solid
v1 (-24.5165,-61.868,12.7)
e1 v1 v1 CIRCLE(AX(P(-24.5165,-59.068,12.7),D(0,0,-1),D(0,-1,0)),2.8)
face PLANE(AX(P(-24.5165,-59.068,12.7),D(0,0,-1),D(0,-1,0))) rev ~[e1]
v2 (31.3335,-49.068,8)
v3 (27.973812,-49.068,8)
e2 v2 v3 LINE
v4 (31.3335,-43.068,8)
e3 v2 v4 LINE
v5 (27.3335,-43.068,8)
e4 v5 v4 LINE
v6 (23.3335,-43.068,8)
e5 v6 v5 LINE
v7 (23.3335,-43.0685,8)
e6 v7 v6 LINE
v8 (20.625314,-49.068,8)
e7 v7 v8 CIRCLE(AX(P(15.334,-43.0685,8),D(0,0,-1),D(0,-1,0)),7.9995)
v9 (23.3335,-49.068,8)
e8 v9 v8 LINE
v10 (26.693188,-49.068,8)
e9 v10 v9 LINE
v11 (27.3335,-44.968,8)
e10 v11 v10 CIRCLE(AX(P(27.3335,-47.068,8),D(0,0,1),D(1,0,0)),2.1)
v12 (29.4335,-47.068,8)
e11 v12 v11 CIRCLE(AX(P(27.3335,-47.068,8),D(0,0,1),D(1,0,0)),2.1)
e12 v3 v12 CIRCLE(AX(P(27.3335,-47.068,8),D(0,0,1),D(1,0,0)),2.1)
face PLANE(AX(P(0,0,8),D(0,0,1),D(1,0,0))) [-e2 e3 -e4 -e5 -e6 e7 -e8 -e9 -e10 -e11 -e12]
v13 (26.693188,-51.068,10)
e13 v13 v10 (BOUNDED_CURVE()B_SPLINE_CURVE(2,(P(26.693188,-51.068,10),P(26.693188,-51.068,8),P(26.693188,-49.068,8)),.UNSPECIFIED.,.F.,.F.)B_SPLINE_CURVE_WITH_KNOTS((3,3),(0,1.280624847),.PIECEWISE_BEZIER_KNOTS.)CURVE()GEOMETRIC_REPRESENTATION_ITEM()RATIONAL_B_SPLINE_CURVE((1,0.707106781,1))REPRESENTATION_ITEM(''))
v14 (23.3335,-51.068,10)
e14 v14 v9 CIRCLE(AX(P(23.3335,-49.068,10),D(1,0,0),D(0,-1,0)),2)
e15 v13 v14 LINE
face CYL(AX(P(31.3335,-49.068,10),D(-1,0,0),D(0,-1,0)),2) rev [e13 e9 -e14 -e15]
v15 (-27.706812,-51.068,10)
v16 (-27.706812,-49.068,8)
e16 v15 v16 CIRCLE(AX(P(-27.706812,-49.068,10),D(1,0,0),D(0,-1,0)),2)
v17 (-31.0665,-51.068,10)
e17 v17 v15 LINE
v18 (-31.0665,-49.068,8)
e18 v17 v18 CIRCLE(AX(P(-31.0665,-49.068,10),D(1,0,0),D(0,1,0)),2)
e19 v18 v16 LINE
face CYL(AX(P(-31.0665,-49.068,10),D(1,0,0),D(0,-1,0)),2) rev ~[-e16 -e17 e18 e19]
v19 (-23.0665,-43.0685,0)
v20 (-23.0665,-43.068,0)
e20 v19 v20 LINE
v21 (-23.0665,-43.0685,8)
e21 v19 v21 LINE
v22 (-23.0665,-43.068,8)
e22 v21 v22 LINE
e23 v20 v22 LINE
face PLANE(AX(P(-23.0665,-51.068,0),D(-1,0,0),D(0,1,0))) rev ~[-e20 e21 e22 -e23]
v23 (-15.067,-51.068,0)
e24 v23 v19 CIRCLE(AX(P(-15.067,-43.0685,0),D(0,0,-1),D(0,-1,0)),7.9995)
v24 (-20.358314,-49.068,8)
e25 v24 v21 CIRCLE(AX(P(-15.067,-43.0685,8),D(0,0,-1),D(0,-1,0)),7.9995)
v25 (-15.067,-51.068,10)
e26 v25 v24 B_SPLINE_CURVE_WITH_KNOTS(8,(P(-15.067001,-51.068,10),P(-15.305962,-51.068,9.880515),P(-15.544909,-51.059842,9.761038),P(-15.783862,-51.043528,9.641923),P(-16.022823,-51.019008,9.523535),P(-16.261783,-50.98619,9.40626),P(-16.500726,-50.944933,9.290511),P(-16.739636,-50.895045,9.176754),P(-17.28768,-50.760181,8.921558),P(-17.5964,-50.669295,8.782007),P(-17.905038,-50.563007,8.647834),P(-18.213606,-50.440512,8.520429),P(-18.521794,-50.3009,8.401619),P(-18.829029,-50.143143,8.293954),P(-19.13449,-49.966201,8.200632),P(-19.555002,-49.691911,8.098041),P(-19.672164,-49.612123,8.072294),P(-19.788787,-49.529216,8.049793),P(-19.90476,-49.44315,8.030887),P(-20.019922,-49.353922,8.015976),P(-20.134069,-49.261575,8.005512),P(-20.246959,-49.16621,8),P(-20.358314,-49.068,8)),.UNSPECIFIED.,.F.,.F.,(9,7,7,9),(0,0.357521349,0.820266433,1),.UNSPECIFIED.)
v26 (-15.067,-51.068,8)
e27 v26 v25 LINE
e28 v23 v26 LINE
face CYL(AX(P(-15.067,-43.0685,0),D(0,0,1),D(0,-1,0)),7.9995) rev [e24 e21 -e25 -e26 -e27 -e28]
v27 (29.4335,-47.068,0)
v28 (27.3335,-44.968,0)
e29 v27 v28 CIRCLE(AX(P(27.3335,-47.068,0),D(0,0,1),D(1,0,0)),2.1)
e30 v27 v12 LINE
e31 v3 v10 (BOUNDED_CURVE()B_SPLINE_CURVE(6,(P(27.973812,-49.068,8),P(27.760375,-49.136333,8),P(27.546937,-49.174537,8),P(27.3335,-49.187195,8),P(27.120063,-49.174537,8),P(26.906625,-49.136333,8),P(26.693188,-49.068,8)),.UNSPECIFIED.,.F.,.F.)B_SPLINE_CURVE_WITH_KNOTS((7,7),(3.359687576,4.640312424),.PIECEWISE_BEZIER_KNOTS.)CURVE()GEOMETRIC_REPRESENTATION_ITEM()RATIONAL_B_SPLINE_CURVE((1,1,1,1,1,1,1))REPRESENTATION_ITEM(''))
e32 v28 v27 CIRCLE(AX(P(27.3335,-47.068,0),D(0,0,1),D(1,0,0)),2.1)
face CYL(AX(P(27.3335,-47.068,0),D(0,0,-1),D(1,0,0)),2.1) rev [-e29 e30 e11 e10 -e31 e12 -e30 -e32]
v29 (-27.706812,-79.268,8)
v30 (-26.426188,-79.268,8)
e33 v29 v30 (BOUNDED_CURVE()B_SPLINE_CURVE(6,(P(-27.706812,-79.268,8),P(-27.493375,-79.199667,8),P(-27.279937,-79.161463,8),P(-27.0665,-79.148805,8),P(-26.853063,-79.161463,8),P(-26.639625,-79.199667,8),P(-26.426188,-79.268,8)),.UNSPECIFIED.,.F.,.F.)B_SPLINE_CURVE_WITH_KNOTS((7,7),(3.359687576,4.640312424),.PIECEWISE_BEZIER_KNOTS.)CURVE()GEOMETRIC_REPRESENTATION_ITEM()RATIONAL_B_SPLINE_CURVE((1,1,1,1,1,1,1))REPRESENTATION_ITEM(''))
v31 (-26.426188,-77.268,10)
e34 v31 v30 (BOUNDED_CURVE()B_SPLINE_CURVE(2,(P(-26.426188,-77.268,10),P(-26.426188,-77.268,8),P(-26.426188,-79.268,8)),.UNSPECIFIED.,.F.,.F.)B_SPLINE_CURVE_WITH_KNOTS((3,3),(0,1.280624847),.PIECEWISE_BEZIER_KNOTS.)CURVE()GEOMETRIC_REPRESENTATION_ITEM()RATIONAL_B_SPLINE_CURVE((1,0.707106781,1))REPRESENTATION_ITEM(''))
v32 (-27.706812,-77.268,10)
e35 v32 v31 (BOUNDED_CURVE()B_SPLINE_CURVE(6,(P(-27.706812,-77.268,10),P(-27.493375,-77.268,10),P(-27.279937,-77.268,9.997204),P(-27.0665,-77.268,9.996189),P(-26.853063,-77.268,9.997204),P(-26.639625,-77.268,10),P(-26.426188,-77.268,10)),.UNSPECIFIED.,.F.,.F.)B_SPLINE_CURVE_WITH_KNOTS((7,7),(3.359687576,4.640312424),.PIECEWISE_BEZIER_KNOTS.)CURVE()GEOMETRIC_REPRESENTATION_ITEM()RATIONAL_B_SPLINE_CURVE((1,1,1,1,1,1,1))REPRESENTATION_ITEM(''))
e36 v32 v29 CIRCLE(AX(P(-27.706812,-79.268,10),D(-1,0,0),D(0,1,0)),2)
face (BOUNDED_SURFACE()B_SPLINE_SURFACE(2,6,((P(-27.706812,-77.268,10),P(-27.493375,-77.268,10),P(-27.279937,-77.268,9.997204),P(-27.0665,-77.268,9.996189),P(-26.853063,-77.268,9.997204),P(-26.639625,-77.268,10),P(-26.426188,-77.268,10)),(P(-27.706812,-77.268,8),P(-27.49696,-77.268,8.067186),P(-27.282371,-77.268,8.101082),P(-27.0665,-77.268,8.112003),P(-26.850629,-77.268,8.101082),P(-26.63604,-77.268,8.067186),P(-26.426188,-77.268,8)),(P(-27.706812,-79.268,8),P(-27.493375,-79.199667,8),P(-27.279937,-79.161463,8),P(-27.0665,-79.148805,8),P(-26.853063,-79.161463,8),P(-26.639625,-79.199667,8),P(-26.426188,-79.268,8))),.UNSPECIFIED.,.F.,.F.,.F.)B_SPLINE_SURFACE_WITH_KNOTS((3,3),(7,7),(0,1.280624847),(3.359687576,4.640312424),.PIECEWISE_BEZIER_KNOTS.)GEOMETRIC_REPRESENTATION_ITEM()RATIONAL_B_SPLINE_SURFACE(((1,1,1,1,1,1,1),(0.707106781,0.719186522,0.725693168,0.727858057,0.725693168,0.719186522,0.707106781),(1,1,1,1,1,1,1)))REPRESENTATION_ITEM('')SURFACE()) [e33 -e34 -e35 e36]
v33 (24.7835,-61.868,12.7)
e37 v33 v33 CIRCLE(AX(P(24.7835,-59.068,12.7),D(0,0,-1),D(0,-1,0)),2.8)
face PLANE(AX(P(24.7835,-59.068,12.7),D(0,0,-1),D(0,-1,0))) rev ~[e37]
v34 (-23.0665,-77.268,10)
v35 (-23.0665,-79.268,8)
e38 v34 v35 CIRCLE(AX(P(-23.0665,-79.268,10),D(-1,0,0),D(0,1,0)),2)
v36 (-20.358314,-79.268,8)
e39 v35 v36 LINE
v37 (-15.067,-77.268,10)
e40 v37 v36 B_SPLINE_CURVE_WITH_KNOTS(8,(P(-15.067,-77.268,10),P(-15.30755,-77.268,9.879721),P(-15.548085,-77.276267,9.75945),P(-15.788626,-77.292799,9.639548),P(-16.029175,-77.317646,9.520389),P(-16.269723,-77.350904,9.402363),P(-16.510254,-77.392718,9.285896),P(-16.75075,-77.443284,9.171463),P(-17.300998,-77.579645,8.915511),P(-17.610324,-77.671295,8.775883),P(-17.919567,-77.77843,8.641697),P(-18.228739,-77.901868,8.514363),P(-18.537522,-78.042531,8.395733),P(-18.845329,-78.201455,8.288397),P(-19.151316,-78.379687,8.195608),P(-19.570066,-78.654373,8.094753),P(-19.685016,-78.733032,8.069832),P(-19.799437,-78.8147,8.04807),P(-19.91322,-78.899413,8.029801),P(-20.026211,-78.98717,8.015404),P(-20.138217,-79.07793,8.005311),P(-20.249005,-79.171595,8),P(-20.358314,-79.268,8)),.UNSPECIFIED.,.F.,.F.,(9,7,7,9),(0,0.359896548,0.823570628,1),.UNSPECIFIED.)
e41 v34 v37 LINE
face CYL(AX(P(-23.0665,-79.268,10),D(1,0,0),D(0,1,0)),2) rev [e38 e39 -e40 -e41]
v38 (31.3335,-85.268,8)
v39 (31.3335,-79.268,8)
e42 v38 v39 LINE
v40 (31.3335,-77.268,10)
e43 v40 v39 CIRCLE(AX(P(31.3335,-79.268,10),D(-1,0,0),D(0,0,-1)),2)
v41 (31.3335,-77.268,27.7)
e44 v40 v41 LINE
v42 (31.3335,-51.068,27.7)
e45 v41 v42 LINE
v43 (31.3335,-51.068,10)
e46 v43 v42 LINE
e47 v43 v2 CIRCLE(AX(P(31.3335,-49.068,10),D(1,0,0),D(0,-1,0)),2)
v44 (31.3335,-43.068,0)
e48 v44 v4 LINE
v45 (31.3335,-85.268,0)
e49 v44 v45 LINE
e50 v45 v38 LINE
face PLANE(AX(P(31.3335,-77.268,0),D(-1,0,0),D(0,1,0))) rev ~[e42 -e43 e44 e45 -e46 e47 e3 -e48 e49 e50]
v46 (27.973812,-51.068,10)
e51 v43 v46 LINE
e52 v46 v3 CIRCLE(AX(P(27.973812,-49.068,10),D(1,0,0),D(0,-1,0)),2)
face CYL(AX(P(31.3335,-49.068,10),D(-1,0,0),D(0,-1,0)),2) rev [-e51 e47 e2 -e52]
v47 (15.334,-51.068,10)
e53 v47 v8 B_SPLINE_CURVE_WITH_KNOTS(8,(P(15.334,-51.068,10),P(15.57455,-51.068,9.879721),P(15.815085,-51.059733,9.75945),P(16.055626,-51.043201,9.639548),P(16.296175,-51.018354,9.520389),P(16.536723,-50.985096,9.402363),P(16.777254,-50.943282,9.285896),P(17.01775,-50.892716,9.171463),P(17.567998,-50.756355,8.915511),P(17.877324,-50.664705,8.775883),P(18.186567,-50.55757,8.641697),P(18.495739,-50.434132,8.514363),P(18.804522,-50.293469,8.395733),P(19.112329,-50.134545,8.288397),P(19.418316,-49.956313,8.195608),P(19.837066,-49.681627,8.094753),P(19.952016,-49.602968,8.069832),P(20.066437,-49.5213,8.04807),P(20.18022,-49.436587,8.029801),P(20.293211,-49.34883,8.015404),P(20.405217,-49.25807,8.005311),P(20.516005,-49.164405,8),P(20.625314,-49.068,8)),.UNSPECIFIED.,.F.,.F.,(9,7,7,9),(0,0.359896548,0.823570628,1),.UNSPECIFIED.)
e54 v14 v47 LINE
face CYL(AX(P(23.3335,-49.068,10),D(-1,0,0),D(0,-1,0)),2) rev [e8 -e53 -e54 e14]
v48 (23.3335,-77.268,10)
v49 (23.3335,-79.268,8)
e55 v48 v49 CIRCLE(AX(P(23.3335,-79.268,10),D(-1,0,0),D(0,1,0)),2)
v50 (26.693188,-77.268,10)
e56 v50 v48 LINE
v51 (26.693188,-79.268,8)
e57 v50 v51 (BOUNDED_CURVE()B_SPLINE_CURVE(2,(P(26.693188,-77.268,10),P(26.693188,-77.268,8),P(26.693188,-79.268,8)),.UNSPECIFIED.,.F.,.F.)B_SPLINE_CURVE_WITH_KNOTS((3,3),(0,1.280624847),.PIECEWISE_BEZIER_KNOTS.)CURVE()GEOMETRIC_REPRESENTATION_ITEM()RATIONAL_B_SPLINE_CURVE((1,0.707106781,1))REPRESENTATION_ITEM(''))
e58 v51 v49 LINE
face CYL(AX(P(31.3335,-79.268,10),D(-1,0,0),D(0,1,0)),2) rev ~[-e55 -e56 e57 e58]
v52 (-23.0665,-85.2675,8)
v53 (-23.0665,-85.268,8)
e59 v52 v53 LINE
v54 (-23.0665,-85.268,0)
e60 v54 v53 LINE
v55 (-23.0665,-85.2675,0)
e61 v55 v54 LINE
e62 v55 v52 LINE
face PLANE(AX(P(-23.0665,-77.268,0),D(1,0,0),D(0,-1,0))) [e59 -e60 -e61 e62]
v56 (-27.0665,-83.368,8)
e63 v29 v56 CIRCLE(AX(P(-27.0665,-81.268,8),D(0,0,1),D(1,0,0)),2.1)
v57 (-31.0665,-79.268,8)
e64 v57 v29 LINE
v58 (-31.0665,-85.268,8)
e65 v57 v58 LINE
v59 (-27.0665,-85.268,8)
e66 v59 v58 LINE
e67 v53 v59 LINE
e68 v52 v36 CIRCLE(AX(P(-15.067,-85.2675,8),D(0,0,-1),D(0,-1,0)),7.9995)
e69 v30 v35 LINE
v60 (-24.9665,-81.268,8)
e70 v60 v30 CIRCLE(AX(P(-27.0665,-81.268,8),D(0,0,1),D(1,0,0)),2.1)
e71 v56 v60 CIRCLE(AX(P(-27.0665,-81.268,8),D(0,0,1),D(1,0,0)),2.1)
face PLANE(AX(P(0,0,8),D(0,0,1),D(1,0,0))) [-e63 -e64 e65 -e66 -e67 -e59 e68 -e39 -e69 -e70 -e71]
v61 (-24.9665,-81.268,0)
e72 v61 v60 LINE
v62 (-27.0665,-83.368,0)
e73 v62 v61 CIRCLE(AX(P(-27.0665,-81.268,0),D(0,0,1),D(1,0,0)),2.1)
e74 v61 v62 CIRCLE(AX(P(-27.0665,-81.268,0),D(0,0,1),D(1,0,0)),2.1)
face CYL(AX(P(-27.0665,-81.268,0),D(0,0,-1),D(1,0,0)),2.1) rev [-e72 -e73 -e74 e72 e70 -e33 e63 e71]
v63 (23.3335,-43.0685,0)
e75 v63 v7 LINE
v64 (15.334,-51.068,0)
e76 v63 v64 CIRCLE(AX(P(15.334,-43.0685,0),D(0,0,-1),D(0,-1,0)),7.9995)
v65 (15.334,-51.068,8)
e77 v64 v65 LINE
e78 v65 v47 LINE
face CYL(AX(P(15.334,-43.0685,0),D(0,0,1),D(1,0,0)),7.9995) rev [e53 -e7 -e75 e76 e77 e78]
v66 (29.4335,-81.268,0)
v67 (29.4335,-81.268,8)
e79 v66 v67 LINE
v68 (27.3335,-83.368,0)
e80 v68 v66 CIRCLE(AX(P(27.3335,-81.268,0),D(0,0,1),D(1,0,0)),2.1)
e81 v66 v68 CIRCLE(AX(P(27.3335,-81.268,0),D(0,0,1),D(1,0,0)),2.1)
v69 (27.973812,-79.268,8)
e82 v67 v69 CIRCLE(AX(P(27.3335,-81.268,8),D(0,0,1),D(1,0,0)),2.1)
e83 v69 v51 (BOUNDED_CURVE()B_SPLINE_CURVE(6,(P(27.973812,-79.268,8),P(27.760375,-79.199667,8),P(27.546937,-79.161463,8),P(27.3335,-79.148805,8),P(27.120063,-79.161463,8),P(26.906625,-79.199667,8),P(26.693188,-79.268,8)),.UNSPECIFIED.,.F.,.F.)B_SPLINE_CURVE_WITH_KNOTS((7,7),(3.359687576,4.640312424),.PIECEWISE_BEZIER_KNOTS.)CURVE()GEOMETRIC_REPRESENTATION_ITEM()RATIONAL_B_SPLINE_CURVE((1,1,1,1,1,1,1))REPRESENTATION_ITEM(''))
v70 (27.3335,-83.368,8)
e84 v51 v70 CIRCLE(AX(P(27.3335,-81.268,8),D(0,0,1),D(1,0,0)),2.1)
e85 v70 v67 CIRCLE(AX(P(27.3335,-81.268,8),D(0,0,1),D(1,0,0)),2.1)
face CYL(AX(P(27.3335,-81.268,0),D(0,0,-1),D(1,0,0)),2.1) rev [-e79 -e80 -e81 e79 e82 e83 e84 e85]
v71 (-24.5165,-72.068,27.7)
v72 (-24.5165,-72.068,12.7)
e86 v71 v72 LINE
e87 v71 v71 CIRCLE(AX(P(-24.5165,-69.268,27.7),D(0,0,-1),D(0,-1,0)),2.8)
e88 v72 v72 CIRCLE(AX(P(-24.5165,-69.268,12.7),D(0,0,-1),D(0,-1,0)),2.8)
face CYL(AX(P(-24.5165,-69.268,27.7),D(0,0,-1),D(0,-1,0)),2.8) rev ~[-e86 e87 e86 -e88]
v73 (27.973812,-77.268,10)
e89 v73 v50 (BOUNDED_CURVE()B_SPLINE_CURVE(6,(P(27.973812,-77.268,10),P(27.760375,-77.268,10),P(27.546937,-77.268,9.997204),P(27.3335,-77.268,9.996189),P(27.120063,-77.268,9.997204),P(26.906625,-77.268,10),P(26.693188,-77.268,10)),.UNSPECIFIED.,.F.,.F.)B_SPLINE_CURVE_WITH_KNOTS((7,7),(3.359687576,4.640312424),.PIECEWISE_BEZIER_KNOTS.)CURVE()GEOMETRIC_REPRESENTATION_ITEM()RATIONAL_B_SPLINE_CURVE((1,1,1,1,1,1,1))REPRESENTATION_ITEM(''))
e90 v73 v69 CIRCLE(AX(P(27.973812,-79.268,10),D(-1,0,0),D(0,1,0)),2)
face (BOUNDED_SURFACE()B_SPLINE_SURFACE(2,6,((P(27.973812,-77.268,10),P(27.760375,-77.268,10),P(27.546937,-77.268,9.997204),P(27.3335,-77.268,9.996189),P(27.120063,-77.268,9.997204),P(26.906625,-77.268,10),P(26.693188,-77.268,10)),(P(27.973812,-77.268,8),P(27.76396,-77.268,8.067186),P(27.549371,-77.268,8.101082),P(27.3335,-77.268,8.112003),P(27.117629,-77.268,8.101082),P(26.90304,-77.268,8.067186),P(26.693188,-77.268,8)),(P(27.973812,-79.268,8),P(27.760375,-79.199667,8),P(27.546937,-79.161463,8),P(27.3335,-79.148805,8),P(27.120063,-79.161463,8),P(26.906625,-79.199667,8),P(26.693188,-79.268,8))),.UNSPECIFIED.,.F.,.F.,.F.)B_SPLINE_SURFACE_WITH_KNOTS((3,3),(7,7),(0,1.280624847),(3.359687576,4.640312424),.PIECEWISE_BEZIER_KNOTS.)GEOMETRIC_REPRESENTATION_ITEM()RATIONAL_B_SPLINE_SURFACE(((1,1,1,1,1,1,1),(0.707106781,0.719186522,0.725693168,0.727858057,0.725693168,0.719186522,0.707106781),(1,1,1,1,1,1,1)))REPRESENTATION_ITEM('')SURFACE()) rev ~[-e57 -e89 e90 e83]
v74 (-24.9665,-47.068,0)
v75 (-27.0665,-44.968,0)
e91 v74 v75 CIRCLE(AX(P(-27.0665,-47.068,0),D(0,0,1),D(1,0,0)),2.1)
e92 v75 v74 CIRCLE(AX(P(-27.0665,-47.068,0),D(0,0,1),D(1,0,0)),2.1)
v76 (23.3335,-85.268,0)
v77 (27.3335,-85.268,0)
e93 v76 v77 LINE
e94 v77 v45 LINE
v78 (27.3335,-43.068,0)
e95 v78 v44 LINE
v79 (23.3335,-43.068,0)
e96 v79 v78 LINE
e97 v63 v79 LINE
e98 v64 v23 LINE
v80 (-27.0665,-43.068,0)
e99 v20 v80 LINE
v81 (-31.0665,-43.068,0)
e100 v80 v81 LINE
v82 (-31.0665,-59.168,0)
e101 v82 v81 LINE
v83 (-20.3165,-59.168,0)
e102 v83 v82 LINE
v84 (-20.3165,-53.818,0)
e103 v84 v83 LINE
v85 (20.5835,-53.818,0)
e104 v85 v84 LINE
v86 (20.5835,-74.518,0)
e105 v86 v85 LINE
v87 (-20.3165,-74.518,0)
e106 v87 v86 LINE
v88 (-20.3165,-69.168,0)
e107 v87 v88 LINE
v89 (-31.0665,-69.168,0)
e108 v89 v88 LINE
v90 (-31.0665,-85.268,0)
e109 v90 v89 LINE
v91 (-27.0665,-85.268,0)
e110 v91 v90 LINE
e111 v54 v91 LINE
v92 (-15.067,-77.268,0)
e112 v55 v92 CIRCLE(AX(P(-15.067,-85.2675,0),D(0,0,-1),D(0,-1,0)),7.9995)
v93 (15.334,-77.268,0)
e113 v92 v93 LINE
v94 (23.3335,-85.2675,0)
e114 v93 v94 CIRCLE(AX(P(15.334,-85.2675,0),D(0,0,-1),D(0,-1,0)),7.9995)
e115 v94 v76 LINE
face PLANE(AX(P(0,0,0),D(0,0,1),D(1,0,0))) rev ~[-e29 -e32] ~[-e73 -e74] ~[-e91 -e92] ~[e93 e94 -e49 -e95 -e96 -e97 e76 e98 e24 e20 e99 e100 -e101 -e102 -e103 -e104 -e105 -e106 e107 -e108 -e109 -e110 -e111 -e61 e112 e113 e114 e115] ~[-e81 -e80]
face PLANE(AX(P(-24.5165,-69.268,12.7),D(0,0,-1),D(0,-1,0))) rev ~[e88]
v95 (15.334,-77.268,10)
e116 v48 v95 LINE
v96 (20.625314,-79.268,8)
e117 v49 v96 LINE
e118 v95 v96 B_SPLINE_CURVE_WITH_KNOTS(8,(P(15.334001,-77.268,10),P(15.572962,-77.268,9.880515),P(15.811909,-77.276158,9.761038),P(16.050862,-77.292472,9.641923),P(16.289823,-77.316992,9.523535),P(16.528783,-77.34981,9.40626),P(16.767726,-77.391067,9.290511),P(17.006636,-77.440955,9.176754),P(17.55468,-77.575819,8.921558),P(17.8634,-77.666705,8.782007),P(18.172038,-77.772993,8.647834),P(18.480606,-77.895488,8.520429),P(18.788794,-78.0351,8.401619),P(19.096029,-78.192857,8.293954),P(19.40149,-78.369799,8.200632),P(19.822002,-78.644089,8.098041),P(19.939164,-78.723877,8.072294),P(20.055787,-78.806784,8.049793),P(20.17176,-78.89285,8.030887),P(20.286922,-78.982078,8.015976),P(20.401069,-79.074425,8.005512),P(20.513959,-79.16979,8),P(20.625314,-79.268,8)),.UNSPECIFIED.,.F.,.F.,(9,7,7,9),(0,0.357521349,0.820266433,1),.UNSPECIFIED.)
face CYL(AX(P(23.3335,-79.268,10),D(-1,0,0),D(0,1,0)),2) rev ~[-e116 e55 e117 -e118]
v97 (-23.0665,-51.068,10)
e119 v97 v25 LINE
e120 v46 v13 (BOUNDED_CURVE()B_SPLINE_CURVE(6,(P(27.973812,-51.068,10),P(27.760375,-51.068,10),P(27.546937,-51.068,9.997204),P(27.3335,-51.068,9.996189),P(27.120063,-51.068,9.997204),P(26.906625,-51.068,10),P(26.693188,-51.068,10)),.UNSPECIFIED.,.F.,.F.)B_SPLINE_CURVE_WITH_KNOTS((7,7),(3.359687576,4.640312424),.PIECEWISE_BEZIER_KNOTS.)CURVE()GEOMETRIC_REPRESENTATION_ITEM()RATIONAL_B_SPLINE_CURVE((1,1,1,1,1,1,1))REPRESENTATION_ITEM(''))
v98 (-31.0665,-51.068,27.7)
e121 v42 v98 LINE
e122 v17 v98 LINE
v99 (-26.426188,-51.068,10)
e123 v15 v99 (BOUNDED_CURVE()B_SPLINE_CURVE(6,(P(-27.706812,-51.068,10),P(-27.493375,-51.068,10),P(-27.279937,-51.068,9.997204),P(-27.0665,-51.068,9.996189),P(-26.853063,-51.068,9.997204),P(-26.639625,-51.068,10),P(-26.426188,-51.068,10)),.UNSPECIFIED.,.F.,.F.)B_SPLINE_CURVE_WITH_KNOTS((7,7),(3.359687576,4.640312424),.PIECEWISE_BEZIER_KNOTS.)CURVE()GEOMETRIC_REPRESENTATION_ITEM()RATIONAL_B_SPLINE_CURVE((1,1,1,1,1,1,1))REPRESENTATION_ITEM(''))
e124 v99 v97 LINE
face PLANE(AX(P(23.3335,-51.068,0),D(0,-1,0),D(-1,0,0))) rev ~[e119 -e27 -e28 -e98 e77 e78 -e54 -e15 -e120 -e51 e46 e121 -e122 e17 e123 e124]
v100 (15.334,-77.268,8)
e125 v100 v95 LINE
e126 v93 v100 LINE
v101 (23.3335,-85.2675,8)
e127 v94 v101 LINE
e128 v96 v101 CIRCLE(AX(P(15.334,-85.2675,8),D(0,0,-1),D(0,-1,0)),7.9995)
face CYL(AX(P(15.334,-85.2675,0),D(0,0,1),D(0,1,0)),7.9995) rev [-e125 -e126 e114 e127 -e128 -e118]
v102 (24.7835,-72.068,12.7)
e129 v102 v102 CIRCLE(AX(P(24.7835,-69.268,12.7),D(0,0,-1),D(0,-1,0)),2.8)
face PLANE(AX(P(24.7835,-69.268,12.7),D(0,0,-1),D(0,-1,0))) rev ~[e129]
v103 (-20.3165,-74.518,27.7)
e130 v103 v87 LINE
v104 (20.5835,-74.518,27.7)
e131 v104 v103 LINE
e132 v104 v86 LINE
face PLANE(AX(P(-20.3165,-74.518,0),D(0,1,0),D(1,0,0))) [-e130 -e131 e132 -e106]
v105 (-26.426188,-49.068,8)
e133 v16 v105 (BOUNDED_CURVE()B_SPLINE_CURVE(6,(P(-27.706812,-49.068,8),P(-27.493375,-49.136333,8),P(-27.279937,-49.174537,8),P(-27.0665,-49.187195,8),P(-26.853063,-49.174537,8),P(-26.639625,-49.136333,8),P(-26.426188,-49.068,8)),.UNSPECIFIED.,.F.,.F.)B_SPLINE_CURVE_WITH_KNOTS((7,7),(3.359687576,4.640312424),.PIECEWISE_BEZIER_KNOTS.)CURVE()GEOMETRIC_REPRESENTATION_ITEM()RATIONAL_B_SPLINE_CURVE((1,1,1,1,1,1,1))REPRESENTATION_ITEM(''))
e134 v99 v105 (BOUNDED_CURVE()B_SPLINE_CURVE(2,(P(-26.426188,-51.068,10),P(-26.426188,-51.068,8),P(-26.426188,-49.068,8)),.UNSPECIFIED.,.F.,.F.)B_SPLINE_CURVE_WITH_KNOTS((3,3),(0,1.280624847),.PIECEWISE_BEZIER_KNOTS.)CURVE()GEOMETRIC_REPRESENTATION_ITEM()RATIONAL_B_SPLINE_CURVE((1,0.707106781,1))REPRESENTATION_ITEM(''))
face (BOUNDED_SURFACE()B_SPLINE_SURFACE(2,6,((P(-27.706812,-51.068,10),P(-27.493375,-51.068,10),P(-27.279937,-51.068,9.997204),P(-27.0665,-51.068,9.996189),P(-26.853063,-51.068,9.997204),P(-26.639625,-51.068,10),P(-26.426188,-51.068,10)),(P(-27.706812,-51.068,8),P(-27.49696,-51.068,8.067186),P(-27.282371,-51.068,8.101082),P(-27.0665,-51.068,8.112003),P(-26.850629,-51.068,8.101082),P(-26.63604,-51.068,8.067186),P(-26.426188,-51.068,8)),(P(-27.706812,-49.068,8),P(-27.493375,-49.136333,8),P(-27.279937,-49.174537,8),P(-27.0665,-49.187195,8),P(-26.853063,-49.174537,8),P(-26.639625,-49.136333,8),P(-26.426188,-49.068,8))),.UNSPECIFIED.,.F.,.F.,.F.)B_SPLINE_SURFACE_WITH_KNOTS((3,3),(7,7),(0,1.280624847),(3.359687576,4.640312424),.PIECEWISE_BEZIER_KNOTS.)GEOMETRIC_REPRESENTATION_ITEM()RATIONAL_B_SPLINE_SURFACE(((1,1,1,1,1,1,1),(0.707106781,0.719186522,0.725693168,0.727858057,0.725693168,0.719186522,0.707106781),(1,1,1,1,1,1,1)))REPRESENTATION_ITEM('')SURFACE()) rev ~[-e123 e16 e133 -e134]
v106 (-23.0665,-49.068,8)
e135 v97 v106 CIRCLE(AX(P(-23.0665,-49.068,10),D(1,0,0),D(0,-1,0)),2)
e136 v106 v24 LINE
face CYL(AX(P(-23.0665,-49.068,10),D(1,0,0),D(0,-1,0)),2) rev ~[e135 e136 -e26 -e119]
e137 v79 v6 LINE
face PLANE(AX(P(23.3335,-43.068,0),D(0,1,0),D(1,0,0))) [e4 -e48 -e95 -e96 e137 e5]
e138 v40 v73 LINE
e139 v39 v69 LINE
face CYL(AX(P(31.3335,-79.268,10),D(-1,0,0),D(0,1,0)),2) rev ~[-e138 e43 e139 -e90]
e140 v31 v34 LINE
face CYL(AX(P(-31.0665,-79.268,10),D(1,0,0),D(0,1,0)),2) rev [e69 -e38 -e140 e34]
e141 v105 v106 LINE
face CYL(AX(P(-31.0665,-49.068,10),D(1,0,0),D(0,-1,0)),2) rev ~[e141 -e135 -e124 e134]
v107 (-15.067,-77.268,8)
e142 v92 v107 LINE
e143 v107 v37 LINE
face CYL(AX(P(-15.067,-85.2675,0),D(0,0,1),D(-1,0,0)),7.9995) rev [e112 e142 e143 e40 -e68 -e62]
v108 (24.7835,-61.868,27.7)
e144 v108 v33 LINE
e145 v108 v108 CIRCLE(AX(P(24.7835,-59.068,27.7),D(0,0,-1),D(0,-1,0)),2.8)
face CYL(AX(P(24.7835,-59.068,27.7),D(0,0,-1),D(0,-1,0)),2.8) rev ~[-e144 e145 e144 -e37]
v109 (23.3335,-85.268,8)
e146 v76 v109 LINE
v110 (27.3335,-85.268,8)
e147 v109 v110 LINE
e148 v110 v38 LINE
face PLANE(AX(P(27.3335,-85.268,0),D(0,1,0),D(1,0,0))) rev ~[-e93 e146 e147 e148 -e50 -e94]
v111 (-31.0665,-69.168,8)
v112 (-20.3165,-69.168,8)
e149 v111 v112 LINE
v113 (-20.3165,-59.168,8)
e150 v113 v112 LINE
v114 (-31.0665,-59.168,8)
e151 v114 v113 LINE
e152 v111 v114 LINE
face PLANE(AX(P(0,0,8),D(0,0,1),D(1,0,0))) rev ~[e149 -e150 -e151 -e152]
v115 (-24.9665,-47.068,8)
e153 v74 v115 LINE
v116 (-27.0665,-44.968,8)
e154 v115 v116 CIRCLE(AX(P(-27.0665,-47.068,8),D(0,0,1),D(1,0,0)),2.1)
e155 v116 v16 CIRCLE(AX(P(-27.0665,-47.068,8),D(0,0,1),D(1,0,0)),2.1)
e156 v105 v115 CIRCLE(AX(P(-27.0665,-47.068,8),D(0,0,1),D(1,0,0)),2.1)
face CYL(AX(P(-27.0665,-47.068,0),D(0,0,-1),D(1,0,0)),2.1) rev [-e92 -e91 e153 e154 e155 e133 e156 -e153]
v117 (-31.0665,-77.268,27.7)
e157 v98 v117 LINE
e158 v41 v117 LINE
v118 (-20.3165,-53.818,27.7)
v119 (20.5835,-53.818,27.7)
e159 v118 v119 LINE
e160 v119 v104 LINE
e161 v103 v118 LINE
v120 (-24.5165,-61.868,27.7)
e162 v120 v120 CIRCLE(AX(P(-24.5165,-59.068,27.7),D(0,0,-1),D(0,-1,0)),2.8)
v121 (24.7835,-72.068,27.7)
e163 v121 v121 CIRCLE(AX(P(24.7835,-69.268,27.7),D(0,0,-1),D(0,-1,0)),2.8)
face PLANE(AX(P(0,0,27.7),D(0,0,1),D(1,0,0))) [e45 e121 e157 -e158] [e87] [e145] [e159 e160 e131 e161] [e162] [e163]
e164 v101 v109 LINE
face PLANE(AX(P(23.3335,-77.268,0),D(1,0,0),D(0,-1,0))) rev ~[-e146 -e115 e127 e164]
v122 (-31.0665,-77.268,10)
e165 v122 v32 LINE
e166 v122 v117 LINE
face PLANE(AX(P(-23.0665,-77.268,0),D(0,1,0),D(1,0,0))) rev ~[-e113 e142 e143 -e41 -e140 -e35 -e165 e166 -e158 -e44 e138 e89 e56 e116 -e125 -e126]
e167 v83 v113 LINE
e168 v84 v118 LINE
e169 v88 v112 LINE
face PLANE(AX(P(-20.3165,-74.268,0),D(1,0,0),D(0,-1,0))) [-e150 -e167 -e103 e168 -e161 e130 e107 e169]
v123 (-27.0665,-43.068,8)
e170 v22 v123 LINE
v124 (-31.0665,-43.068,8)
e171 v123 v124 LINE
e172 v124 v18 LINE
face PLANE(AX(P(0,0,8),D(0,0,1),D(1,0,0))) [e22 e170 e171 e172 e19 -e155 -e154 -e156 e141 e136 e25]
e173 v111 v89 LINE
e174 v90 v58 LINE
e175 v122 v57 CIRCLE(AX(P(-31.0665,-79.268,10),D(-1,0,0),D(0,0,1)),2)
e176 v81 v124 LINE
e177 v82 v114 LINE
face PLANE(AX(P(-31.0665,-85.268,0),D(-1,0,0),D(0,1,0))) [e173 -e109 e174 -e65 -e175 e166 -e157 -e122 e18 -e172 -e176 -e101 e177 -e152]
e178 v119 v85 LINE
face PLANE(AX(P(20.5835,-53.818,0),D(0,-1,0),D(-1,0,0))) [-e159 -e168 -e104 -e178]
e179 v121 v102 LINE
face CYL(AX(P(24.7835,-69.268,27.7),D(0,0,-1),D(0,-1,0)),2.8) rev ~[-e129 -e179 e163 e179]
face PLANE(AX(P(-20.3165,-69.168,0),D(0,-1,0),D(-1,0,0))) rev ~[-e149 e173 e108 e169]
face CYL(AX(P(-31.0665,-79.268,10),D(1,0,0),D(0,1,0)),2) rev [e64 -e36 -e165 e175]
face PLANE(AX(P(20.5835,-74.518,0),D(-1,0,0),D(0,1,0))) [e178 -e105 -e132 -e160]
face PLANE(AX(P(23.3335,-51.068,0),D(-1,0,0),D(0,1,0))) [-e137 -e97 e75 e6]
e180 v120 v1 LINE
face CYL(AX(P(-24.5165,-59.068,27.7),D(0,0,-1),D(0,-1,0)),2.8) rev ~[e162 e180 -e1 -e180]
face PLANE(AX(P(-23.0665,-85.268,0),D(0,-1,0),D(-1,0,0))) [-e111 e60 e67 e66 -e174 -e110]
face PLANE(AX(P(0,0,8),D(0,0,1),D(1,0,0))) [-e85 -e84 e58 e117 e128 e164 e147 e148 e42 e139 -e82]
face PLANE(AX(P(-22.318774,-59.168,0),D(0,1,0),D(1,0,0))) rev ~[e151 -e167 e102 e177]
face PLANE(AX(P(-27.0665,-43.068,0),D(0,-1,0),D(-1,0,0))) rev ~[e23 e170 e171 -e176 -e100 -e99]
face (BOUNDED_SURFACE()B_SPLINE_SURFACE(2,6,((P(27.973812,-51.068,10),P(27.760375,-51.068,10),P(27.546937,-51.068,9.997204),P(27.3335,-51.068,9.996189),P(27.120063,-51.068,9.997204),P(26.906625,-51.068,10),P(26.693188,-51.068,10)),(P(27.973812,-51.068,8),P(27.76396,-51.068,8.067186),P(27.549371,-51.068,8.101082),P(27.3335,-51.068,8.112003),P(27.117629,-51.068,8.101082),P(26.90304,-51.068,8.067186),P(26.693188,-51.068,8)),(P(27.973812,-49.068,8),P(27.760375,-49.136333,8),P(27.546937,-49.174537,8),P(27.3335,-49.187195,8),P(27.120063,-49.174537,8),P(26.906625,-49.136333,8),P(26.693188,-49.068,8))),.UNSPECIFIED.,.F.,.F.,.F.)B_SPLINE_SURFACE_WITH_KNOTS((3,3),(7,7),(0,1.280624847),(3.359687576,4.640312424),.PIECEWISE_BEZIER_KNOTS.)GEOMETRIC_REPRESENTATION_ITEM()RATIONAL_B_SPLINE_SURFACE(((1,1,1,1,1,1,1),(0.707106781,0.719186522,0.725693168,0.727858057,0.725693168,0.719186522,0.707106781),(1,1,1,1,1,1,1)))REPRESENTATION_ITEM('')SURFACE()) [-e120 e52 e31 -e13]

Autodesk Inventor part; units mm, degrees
ref_plane "YZ Plane" through (0, 0, 0) normal (1, 0, 0) x (0, 1, 0)
ref_plane "XZ Plane" through (0, 0, 0) normal (0, 1, 0) x (-1, 0, 0)
sketch "Boceto1" plane through (0, 0, 0) normal (0, 0, 1) x (1, 0, 0)
  line L0 (-20.0665, -74.268) -> (20.3335, -74.268) projected
  line L1 (-20.0665, -54.068) -> (-20.0665, -74.268) projected
  line L2 (20.3335, -74.268) -> (20.3335, -54.068) projected
  circle A0 centre (24.7835, -69.268) radius 2.2 projected
  circle A1 centre (24.7835, -59.068) radius 2.2 projected
  line L3 (20.3335, -54.068) -> (20.3335, -74.268) projected
  line L4 (20.3335, -54.068) -> (28.3335, -54.068) projected
  line L5 (28.3335, -54.068) -> (28.3335, -74.268) projected
  line L6 (20.3335, -74.268) -> (28.3335, -74.268) projected
  line L7 (-20.0665, -74.268) -> (-28.0665, -74.268) projected
  circle A2 centre (-24.5165, -69.268) radius 2.2 projected
  circle A3 centre (-24.5165, -59.068) radius 2.2 projected
  line L8 (-20.0665, -54.068) -> (-20.0665, -74.268) projected
  line L9 (-20.0665, -54.068) -> (-28.0665, -54.068) projected
  line L10 (-28.0665, -74.268) -> (-28.0665, -54.068) projected
  line L11 (-20.0665, -74.268) -> (-28.0665, -74.268) projected
  line L12 (-20.0665, -66.768) -> (-25.0665, -66.768) projected
  line L13 (-25.0665, -61.568) -> (-25.0665, -66.768) projected
  line L14 (-20.0665, -61.568) -> (-25.0665, -61.568) projected
  line L15 (-20.0665, -54.068) -> (-20.0665, -74.268) projected
  line L16 (20.3335, -54.068) -> (-20.0665, -54.068) projected
  line L17 (20.3335, -74.268) -> (20.3335, -54.068) projected
  line L18 (-20.0665, -74.268) -> (20.3335, -74.268) projected
  circle A4 centre (-10.3665, -64.168) radius 3.1 projected
  line L19 (-28.0665, -74.268) -> (-28.0665, -77.268)
  line L20 (-28.0665, -77.268) -> (-31.0665, -77.268)
  line L21 (28.3335, -54.068) -> (31.3335, -54.068)
  line L22 (31.3335, -54.068) -> (31.3335, -51.068)
  line L23 (31.3335, -51.068) -> (28.3335, -51.068)
  line L24 (28.3335, -51.068) -> (28.3335, -54.068)
  line L25 (31.3335, -51.068) -> (-31.0665, -51.068)
  line L26 (-31.0665, -51.068) -> (-31.0665, -77.268)
  line L27 (-31.0665, -77.268) -> (31.3335, -77.268)
  line L28 (31.3335, -77.268) -> (31.3335, -51.068)
  line L29 (-31.0665, -51.068) -> (-23.0665, -51.068)
  line L30 (-23.0665, -51.068) -> (-23.0665, -43.068)
  line L31 (-23.0665, -43.068) -> (-31.0665, -43.068)
  line L32 (-31.0665, -43.068) -> (-31.0665, -51.068)
  line L33 (-31.0665, -77.268) -> (-23.0665, -77.268)
  line L34 (-23.0665, -77.268) -> (-23.0665, -85.268)
  line L35 (-23.0665, -85.268) -> (-31.0665, -85.268)
  line L36 (-31.0665, -85.268) -> (-31.0665, -77.268)
  line L37 (31.3335, -77.268) -> (23.3335, -77.268)
  line L38 (23.3335, -77.268) -> (23.3335, -85.268)
  line L39 (23.3335, -85.268) -> (31.3335, -85.268)
  line L40 (31.3335, -85.268) -> (31.3335, -77.268)
  line L41 (31.3335, -51.068) -> (23.3335, -51.068)
  line L42 (23.3335, -51.068) -> (23.3335, -43.068)
  line L43 (23.3335, -43.068) -> (31.3335, -43.068)
  line L44 (31.3335, -43.068) -> (31.3335, -51.068)
  line L45 (-27.0665, -43.068) -> (-27.0665, -47.068)
  circle A5 centre (-27.0665, -47.068) radius 2.1
  line L46 (-27.0665, -85.268) -> (-27.0665, -81.268)
  circle A6 centre (-27.0665, -81.268) radius 2.1
  line L47 (27.3335, -43.068) -> (27.3335, -47.068)
  circle A7 centre (27.3335, -47.068) radius 2.1
  line L48 (27.3335, -85.268) -> (27.3335, -81.268)
  circle A8 centre (27.3335, -81.268) radius 2.1
  line L49 (-28.0665, -54.068) -> (28.3335, -54.068)
  line L50 (28.3335, -54.068) -> (28.3335, -74.268)
  line L51 (28.3335, -74.268) -> (-28.0665, -74.268)
  line L52 (-28.0665, -74.268) -> (-28.0665, -54.068)
  line L53 (28.5835, -53.818) -> (-28.3165, -53.818)
  line L54 (-28.3165, -53.818) -> (-28.3165, -74.518)
  line L55 (-28.3165, -74.518) -> (28.5835, -74.518)
  line L56 (28.5835, -74.518) -> (28.5835, -53.818)
  line L57 (-20.3165, -53.818) -> (-20.3165, -74.518)
  line L58 (20.5835, -74.518) -> (20.5835, -53.818)
  line L59 (-25.0665, -61.568) -> (-20.0665, -66.768)
  line L60 (-19.0665, -69.168) -> (-26.0665, -69.168)
  line L61 (-26.0665, -69.168) -> (-26.0665, -59.168)
  line L62 (-26.0665, -59.168) -> (-19.0665, -59.168)
  line L63 (-19.0665, -59.168) -> (-19.0665, -69.168)
  line L64 (-19.0665, -69.168) -> (-26.0665, -59.168) construction
  line L65 (-26.0665, -69.168) -> (-19.0665, -59.168) construction
  point P0 (0, 0)
  point P1 (28.5835, -54.068)
  point P2 (28.3335, -53.818)
  point P3 (-20.3165, -61.568)
  point P4 (-20.3165, -66.768)
  point P5 (-22.5665, -64.168)
  point P6 (-20.3165, -69.168)
  point P7 (-20.3165, -59.168)
  dimension "d0" = 3
  dimension "d1" = 3
  dimension "d2" = 3
  dimension "d3" = 3
  dimension "d4" = 8
  dimension "d5" = 8
  dimension "d6" = 8
  dimension "d7" = 8
  dimension "d8" = 8
  dimension "d9" = 8
  dimension "d10" = 8
  dimension "d11" = 8
  dimension "d12" = 4
  dimension "d13" = 4.2
  dimension "d14" = 4
  dimension "d15" = 4.2
  dimension "d16" = 4
  dimension "d17" = 4.2
  dimension "d18" = 4
  dimension "d19" = 4.2
  dimension "d20" = 0.25
  dimension "d28" = 0.25
  dimension "d29" = 0.25
  dimension "d30" = 7
  dimension "d31" = 10
extrude "Extrusión1" add sketch "Boceto1" along normal blind 8 contours L57 L55 L19 L7 | L7 L10 L9 L57 L62 A3 L61 A2 L60 | L58 L4 L5 L6 | L6 L5 L21 L56 L55 L58 | L19 L55 L54 L53 L57 L9 L10 | L55 L56 L21 L28 L27 L19 | L58 L53 L24 L4 | A2 L61 L60 | L19 L20 L26 L25 L24 L53 L54 L55 | L24 L53 L56 L21 | L27 L34 L35 L36 L20 | L56 L53 L24 L23 L22 L21 | A3 L62 L61 | L25 L42 L43 L44 L23 | L32 L31 L30 L25 | L27 L40 L39 L38 | A0 | A1 picked at (-23.5885, -69.413) picked at (-23.5885, -58.923)
sketch "Boceto2" plane through (0, 0, 8) normal (0, 0, 1) x (1, 0, 0)
  line L0 (-23.0665, -85.268) -> (-23.0665, -77.268) projected
  line L1 (-23.0665, -77.268) -> (23.3335, -77.268) projected
  line L2 (23.3335, -77.268) -> (23.3335, -85.268) projected
  line L3 (23.3335, -85.268) -> (31.3335, -85.268) projected
  line L4 (31.3335, -85.268) -> (31.3335, -43.068) projected
  line L5 (31.3335, -43.068) -> (23.3335, -43.068) projected
  line L6 (23.3335, -43.068) -> (23.3335, -51.068) projected
  line L7 (23.3335, -51.068) -> (-23.0665, -51.068) projected
  line L8 (-23.0665, -51.068) -> (-23.0665, -43.068) projected
  line L9 (-23.0665, -43.068) -> (-31.0665, -43.068) projected
  line L10 (-31.0665, -43.068) -> (-31.0665, -85.268) projected
  line L11 (-31.0665, -85.268) -> (-23.0665, -85.268) projected
  circle A0 centre (-27.0665, -81.268) radius 2.1 projected
  line L12 (20.5835, -74.518) -> (-20.3165, -74.518) projected
  line L13 (-20.3165, -53.818) -> (20.5835, -53.818) projected
  circle A1 centre (27.3335, -81.268) radius 2.1 projected
  circle A2 centre (-27.0665, -47.068) radius 2.1 projected
  circle A3 centre (27.3335, -47.068) radius 2.1 projected
  line L14 (-23.0665, -85.268) -> (-23.0665, -77.268) projected
  line L15 (-23.0665, -77.268) -> (-31.0665, -77.268)
  line L16 (-23.0665, -77.268) -> (-15.0665, -77.268) construction
  line L17 (23.3335, -51.068) -> (31.3335, -51.068)
  line L18 (31.3335, -85.268) -> (31.3335, -43.068) projected
  line L19 (23.3335, -51.068) -> (31.3335, -51.068) construction
  line L20 (-31.0665, -77.268) -> (31.3335, -77.268)
  line L21 (31.3335, -77.268) -> (31.3335, -51.068)
  line L22 (31.3335, -51.068) -> (-31.0665, -51.068)
  line L23 (-31.0665, -51.068) -> (-31.0665, -77.268)
  line L24 (20.5835, -53.818) -> (20.5835, -74.518) projected
  line L25 (-20.3165, -74.518) -> (-20.3165, -69.168) projected
  line L26 (-20.3165, -59.168) -> (-20.3165, -53.818) projected
  line L27 (-20.3165, -69.168) -> (-26.0665, -69.168) projected
  line L28 (-26.0665, -69.168) -> (-26.0665, -59.168) projected
  line L29 (-26.0665, -59.168) -> (-20.3165, -59.168) projected
  line L30 (-20.3165, -59.168) -> (-20.3165, -69.168)
  point P0 (0, 0)
  dimension "d23" = 180
  dimension "d24" = 8
  dimension "d25" = 0
ref_plane "Plano de trabajo1" through (-28.0665, -74.268, 27.7) normal (0, 0, -1) x (0, 1, 0)
extrude "Extrusión2" add sketch "Boceto2" along normal up to surface (19.7 mm away) contours L15 L10 L22 L7 L17 L4 L20 L1 | L27 L28 L29 L30
sketch "Boceto3" plane through (-31.0665, -85.268, 0) normal (-1, 0, 0) x (0, 0, 1)
  line L0 (8, 16.1) -> (8, 26.1) projected
  line L1 (0, 26.1) -> (8, 26.1) projected
  line L2 (0, 26.1) -> (8, 26.1)
  line L3 (8, 26.1) -> (8, 16.1)
  line L4 (8, 16.1) -> (0, 16.1)
  line L5 (0, 16.1) -> (0, 26.1)
  point P0 (0, 85.268)
extrude "Extrusión3" cut sketch "Boceto3" against normal blind 8
sketch "Boceto4" plane through (-31.0665, -51.068, 27.7) normal (0, 0, 1) x (1, 0, 0)
  circle A0 centre (6.55, -18.2) radius 2.2 projected
  circle A1 centre (6.55, -8) radius 2.2 projected
  line L0 (11, -3) -> (11, -23.2) projected
  line L1 (11, -3) -> (3, -3) projected
  line L2 (3, -23.2) -> (3, -3) projected
  line L3 (11, -23.2) -> (3, -23.2) projected
  circle A2 centre (55.85, -18.2) radius 2.2 projected
  circle A3 centre (55.85, -8) radius 2.2 projected
  line L4 (51.4, -23.2) -> (51.4, -3) projected
  line L5 (51.4, -23.2) -> (59.4, -23.2) projected
  line L6 (59.4, -23.2) -> (59.4, -3) projected
  line L7 (51.4, -3) -> (59.4, -3) projected
  point P0 (31.0665, 51.068)
hole "Agujero1" at (-24.5165, -69.268, 27.7) at (-24.5165, -59.068, 27.7) at (24.7835, -69.268, 27.7) at (24.7835, -59.068, 27.7) direction (0, 0, -1) diameter 5.6 depth 15
fillet "Empalme1" radius 8 4 edges at (-23.0665, -77.268, 4) (23.3335, -77.268, 4) (-23.0665, -51.068, 4) (23.3335, -51.068, 4)
fillet "Empalme2" radius 2 4 edges at (-19.0668, -77.268, 8) (19.3337, -77.268, 8) (19.3337, -51.068, 8) (-19.0668, -51.068, 8)
equation "\"Radio_pliegue\" = Grosor"
equation "\"Anchura_desahogo_plegado\" = Grosor"
equation "\"Profundidad_desahogo_plegado\" = 0.5 * Grosor"
equation "\"Tamaño_destalonado\" = 4 * Grosor"
equation "\"Remanente_mínimo\" = 2 * Grosor"
equation "\"Radiodetransición\" = Radio_pliegue"
equation "\"Tamaño_de_radio_de_Jacobi\" = Radio_pliegue"
equation "\"TamañoSeparación\" = Grosor"
equation "\"Grosor\" = 3.048"
properties part number "Soporte_Servo"
